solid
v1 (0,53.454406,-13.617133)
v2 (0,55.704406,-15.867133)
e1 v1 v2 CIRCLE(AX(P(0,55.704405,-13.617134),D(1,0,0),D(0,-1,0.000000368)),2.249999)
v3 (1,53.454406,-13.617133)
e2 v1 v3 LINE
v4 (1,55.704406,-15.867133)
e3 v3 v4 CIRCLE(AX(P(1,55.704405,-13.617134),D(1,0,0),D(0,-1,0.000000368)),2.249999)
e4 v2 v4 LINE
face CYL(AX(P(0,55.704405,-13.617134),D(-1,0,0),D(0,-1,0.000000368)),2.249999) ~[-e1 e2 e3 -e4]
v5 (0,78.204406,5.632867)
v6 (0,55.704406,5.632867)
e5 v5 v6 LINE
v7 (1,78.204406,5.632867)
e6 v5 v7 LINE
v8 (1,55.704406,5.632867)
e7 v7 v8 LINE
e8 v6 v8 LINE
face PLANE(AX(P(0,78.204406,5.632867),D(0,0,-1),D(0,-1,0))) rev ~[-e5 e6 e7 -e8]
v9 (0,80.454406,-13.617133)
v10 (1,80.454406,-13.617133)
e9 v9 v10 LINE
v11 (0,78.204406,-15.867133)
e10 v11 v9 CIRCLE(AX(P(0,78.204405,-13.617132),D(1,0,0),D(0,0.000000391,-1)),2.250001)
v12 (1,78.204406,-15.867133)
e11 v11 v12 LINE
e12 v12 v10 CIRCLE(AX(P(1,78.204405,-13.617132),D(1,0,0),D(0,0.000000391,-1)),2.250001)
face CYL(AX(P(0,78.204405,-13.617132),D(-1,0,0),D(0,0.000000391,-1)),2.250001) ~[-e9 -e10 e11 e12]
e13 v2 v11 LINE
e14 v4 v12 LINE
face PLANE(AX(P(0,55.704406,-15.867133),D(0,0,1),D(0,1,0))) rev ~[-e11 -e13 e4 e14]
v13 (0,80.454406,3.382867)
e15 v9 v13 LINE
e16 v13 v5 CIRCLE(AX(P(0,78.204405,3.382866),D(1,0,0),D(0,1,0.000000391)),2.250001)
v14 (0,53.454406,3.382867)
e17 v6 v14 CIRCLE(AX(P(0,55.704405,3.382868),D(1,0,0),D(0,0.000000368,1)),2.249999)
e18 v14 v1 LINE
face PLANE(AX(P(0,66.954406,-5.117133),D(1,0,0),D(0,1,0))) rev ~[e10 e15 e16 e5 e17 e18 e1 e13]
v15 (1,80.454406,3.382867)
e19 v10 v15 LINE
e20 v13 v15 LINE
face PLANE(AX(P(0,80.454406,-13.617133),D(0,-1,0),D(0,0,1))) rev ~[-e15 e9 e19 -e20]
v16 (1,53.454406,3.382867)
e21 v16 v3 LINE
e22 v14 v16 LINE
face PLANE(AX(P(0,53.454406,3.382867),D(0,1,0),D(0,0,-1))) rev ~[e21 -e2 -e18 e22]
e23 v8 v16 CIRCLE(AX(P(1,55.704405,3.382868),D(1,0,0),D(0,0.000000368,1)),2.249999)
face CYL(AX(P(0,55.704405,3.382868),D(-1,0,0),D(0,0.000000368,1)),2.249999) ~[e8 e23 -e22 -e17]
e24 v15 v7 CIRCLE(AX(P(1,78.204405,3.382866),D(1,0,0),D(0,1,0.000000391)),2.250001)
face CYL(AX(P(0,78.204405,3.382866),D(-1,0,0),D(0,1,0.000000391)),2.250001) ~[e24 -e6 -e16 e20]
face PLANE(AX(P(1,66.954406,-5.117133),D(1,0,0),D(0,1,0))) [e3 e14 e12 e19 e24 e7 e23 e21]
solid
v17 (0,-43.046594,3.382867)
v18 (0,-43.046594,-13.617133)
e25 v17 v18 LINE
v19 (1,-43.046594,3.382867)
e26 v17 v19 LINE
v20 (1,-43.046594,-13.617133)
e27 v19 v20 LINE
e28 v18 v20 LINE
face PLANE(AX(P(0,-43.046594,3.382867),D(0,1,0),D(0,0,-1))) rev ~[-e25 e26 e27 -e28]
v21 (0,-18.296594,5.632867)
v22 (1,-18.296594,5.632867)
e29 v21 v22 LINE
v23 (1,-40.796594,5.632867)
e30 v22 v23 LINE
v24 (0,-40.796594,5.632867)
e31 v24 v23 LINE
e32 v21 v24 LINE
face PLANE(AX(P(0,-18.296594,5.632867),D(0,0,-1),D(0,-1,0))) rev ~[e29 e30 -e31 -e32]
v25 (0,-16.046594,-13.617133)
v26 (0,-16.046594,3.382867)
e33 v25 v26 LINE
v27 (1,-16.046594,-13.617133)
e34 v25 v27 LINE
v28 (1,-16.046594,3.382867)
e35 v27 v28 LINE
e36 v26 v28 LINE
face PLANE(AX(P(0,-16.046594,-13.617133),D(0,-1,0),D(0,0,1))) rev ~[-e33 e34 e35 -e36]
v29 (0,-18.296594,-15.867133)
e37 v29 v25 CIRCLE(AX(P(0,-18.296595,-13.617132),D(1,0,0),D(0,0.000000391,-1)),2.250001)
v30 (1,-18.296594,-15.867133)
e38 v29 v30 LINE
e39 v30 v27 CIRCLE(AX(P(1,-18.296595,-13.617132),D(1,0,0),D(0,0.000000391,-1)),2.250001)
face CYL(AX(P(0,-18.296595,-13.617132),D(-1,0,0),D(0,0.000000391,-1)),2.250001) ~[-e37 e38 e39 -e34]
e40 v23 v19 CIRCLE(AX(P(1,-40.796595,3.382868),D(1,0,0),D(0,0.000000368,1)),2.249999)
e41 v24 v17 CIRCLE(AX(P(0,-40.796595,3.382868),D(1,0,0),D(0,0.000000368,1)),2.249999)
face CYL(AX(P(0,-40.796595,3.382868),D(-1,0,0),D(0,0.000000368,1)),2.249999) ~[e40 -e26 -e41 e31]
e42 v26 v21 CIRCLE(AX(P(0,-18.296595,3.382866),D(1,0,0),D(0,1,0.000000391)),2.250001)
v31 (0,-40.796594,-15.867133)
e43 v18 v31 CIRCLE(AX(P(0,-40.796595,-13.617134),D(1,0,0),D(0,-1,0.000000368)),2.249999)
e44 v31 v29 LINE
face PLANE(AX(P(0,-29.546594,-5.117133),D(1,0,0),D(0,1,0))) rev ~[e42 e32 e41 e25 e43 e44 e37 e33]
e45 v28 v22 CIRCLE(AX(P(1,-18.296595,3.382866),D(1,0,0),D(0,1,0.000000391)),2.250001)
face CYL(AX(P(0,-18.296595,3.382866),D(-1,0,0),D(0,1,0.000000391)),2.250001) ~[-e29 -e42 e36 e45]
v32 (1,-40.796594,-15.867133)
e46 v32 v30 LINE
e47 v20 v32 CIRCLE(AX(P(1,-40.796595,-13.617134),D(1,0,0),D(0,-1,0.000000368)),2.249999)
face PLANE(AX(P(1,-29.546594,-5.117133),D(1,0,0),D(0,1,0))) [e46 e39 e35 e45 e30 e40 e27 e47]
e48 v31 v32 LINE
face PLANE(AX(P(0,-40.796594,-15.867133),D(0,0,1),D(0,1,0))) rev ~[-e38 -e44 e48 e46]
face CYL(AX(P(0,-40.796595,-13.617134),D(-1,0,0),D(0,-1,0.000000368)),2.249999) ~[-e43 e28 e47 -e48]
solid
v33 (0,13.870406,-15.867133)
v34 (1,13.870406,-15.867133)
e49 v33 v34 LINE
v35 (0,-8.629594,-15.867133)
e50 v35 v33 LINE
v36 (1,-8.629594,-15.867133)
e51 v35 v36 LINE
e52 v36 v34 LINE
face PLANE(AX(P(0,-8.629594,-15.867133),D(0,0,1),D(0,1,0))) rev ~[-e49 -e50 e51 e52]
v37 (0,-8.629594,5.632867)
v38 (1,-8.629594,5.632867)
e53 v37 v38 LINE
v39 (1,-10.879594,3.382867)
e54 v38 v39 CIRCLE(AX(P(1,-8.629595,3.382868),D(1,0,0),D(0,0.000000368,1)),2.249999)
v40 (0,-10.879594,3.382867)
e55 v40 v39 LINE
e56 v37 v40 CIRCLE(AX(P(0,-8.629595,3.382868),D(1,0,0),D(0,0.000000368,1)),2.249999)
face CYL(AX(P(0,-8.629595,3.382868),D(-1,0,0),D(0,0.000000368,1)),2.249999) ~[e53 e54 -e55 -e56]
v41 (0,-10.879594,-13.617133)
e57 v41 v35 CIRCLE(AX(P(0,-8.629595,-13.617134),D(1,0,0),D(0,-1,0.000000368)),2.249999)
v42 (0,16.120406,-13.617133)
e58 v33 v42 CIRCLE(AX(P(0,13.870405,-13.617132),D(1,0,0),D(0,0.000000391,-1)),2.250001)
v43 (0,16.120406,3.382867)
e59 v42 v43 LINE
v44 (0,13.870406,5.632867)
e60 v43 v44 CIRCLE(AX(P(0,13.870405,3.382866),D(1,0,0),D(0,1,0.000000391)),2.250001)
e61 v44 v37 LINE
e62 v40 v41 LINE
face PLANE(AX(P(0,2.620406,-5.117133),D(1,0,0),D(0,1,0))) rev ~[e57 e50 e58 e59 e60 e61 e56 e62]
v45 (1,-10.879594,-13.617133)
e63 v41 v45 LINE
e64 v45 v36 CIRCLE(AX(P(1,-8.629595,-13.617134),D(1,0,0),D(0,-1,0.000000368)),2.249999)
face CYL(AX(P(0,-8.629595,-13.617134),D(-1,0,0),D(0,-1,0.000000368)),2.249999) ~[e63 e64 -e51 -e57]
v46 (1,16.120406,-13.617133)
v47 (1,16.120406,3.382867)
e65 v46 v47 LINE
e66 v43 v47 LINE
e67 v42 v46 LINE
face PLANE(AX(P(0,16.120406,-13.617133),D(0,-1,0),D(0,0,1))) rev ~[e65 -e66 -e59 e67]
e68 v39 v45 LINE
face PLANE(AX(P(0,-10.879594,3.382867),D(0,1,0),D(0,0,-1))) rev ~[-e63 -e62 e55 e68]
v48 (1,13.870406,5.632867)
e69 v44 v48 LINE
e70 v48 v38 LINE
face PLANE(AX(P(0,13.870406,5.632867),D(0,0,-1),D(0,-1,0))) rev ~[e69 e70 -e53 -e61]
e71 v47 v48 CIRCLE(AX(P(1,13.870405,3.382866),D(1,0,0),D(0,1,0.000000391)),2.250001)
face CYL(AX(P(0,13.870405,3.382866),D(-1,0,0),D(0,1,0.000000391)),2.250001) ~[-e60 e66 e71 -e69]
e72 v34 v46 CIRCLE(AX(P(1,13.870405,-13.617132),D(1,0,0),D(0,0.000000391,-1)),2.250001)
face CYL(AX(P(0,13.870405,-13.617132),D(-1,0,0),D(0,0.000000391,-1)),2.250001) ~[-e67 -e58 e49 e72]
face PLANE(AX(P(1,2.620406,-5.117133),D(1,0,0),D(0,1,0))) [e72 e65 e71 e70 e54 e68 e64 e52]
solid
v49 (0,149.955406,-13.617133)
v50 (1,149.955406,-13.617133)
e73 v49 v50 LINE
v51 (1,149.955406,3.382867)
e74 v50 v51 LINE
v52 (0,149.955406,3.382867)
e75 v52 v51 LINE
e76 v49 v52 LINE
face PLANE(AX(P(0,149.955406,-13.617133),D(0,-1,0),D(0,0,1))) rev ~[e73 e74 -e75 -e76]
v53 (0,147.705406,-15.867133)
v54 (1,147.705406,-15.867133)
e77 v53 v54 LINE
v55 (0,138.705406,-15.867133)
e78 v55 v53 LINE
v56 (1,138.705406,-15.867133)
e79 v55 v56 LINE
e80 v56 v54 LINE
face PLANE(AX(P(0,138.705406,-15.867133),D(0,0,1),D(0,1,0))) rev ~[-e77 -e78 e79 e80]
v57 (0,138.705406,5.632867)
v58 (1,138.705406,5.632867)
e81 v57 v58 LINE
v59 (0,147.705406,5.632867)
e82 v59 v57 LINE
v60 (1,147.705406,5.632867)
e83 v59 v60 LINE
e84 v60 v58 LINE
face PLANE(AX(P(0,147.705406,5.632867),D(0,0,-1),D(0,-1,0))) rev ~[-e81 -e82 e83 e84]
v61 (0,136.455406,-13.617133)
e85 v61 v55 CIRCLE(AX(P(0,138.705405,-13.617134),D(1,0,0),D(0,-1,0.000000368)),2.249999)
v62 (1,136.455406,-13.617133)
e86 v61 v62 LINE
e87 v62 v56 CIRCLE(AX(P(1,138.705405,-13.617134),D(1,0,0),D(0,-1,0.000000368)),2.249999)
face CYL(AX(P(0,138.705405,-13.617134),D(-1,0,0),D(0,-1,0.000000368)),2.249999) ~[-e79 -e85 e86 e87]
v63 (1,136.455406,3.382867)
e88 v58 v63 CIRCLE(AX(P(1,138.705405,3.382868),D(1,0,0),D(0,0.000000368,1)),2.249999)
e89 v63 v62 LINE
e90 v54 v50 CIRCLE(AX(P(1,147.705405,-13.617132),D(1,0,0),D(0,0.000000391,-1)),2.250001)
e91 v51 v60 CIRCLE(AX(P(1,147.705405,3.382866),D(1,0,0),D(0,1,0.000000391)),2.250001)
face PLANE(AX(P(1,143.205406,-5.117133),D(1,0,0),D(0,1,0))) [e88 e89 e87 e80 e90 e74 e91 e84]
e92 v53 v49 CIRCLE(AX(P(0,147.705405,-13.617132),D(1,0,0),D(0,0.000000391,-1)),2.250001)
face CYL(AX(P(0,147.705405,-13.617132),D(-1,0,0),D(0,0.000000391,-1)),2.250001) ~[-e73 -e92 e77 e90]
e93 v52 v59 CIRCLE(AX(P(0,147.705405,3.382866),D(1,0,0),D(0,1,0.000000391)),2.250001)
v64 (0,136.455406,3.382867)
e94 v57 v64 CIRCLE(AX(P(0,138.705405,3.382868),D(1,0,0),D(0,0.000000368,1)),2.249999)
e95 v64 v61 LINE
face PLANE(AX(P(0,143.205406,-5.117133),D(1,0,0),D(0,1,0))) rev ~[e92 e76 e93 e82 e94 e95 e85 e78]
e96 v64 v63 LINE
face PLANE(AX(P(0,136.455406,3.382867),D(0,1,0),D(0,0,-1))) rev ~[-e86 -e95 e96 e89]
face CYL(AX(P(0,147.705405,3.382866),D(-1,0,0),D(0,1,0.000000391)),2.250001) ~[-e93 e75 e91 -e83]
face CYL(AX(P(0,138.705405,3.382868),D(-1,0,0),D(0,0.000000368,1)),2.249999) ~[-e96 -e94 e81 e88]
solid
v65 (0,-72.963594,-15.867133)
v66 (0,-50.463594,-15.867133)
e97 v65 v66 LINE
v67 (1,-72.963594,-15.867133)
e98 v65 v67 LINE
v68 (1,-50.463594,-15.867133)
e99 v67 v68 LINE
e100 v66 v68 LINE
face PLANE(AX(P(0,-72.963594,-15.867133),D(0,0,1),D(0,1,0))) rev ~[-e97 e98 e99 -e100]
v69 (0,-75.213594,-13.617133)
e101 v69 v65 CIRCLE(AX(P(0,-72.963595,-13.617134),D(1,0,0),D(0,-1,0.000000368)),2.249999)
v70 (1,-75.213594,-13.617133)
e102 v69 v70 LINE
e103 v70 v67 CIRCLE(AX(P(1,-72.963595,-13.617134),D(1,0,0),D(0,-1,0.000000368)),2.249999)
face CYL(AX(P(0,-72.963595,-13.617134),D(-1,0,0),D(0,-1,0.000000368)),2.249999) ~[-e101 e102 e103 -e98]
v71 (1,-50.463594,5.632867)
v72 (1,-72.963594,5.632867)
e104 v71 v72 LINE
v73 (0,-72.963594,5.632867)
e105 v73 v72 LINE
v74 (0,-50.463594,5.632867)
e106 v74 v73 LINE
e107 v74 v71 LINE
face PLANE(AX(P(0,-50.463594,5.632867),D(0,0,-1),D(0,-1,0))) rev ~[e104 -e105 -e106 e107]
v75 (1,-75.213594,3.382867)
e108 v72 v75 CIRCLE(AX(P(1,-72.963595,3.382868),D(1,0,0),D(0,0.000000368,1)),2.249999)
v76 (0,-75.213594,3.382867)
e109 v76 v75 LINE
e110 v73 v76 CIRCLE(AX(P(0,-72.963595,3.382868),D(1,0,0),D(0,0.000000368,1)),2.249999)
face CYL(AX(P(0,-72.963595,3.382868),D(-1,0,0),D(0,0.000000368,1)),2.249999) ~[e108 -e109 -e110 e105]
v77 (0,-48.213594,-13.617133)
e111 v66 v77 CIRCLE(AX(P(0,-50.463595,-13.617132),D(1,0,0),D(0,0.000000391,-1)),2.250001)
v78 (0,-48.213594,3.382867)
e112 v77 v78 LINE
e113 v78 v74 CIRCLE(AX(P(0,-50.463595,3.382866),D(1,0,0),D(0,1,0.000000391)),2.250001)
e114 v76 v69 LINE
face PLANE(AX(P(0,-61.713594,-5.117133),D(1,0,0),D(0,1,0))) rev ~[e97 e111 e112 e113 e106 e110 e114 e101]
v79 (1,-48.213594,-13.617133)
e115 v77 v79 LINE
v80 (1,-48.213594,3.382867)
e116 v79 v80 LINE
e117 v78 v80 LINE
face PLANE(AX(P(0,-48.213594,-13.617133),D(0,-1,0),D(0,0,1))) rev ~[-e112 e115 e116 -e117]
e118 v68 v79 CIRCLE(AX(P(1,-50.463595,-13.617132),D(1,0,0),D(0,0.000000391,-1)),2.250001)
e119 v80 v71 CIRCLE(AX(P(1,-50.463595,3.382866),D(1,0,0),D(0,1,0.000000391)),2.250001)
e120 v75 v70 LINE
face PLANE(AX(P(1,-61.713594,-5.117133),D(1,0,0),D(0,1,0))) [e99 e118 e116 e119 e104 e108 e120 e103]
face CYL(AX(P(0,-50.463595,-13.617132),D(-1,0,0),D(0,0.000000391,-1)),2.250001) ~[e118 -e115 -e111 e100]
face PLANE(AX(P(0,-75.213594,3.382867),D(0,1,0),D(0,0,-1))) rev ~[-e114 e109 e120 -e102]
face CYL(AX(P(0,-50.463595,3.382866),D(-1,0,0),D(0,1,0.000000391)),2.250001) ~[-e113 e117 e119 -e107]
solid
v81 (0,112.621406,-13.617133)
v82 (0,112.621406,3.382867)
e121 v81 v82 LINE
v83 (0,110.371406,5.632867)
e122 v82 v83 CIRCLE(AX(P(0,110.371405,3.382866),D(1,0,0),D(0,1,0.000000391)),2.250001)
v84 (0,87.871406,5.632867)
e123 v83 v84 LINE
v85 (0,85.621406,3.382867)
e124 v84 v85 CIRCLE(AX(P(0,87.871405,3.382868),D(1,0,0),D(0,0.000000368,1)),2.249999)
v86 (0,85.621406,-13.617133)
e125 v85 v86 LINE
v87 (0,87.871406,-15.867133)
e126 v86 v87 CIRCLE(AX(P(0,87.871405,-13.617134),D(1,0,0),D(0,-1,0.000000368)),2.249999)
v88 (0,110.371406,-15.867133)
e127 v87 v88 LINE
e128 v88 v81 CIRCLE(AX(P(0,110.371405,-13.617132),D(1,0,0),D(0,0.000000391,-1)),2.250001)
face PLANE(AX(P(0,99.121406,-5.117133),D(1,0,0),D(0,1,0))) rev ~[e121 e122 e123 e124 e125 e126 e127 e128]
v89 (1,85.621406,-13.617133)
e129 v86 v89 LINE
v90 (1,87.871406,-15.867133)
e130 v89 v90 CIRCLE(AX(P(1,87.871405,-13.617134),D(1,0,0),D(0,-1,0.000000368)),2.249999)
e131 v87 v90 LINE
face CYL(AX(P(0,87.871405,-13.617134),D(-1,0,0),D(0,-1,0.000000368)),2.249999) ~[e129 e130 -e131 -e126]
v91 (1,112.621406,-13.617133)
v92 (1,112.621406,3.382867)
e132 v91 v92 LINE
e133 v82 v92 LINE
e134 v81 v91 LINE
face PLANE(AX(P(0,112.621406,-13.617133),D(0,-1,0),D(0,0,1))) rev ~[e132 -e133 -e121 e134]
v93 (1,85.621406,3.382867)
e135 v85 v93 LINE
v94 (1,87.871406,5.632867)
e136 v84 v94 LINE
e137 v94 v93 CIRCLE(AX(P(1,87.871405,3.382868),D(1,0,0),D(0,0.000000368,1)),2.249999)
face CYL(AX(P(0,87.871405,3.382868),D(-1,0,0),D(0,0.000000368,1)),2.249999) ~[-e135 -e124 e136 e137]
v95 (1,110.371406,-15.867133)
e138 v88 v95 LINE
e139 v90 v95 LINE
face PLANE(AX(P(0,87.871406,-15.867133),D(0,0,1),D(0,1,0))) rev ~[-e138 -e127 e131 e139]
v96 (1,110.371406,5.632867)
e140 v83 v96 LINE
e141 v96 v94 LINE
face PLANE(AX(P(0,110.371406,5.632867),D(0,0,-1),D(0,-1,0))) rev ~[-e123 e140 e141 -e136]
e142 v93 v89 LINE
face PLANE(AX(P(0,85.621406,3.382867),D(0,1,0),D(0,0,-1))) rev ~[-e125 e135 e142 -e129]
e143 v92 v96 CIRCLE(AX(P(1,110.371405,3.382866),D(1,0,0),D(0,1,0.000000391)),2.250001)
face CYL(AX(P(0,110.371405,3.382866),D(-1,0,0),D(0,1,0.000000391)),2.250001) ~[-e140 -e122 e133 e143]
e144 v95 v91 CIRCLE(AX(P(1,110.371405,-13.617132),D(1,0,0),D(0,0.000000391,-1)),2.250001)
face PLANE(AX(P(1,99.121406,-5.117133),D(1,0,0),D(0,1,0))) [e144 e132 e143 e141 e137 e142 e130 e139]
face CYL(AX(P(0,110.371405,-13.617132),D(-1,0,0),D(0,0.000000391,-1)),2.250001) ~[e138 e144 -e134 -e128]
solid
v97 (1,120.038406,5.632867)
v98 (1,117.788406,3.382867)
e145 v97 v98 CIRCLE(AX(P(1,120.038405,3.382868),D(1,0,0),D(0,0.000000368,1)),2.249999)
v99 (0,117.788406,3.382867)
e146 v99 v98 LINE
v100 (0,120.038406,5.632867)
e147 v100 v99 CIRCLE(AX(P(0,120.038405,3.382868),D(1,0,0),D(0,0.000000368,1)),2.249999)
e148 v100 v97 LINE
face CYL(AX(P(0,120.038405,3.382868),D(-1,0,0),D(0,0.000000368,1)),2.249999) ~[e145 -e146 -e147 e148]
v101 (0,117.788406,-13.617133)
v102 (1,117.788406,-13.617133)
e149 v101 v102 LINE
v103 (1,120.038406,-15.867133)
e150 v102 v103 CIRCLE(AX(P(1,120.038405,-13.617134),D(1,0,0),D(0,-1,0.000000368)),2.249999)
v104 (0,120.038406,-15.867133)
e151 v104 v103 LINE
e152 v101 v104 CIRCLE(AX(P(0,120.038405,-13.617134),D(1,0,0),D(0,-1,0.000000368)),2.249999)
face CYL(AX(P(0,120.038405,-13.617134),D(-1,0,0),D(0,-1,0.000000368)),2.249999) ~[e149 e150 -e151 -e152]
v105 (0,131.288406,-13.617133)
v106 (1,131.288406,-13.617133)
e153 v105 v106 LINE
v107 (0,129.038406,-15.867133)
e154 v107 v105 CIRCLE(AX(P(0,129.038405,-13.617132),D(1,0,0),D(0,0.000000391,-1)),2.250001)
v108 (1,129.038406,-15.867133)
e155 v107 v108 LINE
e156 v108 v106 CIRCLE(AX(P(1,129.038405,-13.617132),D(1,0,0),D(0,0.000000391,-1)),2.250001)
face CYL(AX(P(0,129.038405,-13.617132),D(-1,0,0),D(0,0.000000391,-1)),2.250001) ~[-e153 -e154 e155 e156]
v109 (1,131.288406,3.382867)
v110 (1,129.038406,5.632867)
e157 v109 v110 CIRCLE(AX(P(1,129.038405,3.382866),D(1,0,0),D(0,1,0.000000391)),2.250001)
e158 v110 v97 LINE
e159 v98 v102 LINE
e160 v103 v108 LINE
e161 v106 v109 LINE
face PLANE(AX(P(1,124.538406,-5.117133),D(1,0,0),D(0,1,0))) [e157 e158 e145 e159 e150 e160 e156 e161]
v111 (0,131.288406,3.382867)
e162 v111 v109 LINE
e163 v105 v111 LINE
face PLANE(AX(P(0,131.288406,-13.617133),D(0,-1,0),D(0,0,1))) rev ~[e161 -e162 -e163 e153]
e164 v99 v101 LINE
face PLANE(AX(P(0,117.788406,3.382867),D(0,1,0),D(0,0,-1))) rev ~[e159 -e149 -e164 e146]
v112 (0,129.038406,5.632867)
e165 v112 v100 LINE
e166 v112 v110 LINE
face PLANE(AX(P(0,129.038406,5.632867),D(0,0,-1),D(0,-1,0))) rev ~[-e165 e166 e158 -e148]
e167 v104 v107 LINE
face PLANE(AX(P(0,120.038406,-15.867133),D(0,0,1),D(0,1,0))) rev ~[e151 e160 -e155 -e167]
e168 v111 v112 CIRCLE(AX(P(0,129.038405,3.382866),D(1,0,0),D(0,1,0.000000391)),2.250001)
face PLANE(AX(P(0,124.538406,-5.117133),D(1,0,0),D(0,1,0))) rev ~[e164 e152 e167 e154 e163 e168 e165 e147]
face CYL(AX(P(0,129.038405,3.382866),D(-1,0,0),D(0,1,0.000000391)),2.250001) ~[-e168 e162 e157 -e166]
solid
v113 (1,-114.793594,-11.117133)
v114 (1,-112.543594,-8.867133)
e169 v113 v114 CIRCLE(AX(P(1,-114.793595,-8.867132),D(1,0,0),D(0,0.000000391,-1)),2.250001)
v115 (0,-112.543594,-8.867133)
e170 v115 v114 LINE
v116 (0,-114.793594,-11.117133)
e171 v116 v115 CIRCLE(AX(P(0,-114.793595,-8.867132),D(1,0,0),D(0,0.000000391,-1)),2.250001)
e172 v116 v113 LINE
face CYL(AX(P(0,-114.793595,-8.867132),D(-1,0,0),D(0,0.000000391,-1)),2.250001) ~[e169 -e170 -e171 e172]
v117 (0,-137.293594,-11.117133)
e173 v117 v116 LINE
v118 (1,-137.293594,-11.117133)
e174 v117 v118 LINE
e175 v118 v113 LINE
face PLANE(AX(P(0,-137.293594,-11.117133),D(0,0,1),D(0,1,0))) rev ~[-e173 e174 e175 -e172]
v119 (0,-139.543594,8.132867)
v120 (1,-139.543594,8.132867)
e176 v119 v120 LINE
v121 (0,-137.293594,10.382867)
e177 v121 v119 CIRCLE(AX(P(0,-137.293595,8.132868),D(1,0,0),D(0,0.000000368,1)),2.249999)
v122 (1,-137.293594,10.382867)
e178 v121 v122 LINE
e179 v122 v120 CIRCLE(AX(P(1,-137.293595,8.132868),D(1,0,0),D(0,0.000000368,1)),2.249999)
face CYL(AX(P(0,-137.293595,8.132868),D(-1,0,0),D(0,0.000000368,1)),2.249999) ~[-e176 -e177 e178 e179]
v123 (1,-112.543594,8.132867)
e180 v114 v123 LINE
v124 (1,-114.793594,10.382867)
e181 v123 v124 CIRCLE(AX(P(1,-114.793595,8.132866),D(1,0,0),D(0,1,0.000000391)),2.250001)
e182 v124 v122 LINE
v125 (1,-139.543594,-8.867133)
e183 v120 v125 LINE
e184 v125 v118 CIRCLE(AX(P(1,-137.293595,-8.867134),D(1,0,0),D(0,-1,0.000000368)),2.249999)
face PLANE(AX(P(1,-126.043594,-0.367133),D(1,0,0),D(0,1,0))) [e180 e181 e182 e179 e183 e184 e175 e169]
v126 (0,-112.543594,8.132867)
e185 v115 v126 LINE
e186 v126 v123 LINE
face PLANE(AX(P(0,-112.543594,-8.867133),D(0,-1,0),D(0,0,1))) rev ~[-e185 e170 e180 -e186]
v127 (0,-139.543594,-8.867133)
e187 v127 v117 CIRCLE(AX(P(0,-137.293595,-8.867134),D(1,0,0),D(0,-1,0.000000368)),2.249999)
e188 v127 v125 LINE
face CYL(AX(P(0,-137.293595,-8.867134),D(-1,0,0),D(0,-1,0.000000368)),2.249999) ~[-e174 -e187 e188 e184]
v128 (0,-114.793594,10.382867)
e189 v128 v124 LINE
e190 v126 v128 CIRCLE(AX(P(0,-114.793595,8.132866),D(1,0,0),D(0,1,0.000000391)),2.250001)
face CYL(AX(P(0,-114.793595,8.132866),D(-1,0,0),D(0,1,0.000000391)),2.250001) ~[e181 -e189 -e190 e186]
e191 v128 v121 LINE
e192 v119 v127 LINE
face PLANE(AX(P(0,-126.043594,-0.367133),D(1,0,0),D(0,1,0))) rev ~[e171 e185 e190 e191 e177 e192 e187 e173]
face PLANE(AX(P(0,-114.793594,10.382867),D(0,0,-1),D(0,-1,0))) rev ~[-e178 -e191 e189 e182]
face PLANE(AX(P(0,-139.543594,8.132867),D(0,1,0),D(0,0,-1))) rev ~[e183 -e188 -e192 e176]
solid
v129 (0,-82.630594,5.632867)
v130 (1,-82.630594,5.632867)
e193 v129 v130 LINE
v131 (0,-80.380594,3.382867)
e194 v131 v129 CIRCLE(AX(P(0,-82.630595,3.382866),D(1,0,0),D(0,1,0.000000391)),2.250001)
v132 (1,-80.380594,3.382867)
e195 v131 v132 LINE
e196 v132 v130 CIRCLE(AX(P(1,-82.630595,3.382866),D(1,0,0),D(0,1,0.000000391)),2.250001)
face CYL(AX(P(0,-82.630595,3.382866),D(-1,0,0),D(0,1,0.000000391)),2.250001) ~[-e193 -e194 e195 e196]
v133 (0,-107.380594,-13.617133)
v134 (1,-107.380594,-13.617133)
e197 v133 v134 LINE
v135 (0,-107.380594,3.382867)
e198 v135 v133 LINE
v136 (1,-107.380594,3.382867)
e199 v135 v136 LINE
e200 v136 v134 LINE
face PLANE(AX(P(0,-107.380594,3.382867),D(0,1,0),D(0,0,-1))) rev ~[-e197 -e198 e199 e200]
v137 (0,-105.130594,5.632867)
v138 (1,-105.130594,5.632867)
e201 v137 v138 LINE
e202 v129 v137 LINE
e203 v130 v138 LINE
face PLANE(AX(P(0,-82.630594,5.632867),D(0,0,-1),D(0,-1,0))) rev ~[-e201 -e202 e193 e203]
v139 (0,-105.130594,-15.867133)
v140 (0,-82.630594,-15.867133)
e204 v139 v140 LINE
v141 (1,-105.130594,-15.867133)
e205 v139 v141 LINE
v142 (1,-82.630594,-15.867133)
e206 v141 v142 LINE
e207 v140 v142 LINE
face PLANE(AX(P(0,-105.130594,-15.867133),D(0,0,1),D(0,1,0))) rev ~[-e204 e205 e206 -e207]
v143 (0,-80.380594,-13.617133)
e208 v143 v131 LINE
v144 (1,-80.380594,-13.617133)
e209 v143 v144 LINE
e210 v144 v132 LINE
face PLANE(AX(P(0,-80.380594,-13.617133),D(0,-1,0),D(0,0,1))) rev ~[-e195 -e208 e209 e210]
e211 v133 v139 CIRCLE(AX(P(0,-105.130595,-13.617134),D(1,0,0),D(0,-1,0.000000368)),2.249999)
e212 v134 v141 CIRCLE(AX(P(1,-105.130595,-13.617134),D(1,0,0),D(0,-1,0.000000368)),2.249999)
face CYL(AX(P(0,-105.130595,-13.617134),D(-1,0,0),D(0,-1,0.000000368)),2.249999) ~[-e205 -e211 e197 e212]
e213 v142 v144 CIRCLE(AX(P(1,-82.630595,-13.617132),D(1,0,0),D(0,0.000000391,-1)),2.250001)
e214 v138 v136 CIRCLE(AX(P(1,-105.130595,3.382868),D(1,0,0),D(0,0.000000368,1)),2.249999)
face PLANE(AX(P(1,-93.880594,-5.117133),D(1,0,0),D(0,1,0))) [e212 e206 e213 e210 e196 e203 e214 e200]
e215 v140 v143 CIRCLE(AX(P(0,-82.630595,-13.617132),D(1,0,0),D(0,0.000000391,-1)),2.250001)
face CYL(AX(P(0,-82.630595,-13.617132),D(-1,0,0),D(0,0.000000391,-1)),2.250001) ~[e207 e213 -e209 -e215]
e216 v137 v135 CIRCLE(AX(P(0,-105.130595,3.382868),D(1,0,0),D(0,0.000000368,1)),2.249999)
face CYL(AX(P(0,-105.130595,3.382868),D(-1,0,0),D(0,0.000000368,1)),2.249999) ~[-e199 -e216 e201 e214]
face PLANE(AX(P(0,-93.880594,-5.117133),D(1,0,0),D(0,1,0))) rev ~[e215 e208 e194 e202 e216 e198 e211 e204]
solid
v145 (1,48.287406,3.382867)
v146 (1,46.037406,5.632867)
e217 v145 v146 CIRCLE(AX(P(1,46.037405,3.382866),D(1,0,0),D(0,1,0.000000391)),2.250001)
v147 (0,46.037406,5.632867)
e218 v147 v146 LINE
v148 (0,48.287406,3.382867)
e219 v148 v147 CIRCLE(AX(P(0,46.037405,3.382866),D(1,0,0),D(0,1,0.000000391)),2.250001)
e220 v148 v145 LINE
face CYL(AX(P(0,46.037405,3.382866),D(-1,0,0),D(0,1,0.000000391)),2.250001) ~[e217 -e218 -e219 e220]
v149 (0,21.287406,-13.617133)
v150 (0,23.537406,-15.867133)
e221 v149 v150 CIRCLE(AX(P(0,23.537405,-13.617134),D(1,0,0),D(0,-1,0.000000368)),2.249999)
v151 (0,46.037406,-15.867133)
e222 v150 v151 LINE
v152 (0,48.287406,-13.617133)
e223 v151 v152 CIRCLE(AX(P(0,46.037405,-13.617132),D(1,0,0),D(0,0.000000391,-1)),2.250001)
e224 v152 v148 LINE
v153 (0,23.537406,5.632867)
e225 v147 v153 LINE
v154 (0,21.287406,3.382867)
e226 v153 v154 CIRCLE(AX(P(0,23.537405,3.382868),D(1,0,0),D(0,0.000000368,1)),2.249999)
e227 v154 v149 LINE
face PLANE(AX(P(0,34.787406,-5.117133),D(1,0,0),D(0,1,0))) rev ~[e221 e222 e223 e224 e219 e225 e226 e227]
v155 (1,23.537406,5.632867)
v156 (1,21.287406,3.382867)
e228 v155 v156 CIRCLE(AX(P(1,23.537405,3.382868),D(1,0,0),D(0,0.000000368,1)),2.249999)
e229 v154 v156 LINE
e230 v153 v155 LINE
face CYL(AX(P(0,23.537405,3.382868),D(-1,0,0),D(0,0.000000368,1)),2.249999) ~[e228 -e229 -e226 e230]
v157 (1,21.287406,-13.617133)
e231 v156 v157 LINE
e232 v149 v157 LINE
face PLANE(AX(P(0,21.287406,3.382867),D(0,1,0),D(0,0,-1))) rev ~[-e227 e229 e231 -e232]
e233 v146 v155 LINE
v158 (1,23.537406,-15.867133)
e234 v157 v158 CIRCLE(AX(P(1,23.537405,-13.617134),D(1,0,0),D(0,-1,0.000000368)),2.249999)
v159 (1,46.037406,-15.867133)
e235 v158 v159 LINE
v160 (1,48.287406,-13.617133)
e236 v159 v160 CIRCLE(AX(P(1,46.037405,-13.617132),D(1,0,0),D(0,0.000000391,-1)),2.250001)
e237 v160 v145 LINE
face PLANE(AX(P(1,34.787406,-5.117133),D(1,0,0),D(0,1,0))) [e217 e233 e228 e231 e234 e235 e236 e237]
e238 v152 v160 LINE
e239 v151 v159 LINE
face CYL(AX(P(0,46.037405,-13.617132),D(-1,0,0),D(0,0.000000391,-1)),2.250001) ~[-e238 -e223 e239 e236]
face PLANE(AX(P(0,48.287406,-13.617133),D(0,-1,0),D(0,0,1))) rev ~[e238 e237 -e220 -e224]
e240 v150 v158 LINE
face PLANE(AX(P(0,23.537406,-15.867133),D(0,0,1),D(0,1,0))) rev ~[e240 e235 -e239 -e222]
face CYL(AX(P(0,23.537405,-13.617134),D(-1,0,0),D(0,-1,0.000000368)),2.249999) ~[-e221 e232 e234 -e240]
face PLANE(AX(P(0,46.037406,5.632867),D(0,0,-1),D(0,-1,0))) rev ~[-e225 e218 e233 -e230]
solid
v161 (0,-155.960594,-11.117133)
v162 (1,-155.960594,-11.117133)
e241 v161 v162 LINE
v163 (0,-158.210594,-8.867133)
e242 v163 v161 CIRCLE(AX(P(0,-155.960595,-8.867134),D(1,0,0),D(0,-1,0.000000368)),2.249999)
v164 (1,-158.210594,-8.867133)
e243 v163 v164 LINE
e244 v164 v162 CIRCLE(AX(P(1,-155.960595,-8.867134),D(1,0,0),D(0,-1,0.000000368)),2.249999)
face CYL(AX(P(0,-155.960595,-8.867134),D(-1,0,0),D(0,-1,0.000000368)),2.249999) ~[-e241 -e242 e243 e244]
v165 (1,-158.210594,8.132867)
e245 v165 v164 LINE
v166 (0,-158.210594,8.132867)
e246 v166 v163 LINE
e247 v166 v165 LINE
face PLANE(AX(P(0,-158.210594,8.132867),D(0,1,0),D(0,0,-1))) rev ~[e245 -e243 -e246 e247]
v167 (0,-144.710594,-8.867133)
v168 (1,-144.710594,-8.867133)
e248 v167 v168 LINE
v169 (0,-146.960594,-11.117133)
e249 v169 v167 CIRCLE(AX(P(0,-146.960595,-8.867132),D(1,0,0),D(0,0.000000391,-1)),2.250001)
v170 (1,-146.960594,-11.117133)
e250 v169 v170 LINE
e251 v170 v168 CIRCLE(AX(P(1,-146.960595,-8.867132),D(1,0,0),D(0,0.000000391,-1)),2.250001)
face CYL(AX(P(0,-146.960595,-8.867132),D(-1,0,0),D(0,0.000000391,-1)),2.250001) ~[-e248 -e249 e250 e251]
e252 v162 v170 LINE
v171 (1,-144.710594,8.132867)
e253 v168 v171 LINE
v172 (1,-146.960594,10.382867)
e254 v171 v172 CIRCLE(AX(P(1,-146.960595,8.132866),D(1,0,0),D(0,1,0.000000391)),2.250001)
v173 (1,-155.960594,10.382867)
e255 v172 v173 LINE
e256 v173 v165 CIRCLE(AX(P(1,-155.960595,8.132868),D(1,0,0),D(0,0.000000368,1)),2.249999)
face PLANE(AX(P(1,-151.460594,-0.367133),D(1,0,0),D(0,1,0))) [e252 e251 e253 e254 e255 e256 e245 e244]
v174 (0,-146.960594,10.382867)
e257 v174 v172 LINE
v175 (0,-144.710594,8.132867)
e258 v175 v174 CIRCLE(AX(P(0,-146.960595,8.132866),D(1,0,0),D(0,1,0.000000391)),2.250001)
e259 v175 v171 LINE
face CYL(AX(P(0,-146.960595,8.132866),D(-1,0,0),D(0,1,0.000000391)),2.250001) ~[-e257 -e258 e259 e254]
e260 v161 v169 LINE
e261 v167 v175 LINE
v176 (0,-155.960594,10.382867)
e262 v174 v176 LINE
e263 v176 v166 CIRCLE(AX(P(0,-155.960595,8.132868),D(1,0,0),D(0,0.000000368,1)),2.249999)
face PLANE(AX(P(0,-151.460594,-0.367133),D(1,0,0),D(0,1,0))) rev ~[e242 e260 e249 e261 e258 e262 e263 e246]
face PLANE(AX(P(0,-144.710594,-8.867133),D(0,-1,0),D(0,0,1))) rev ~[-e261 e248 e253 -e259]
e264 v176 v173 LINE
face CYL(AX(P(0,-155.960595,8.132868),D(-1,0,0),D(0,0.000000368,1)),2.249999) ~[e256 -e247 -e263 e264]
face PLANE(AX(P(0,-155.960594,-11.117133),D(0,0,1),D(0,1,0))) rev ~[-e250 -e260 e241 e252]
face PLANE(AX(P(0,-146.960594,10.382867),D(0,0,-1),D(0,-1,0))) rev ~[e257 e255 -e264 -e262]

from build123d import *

# Parameters (mm, degrees)
F1_DEPTH = 1


with BuildPart() as f1:
    # F0 (on Right) → F1 (new body)
    with BuildSketch(Plane.YZ):
        with BuildLine():
            Line((80.454406, -13.617133), (80.454406, 3.382867))
            ThreePointArc((80.454406, 3.382867), (79.795396, 4.973857), (78.204406, 5.632867))
            Line((78.204406, 5.632867), (55.704406, 5.632867))
            ThreePointArc((55.704406, 5.632867), (54.113415, 4.973857), (53.454406, 3.382867))
            Line((53.454406, 3.382867), (53.454406, -13.617133))
            ThreePointArc((53.454406, -13.617133), (54.113415, -15.208123), (55.704406, -15.867133))
            Line((55.704406, -15.867133), (78.204406, -15.867133))
            ThreePointArc((78.204406, -15.867133), (79.795396, -15.208123), (80.454406, -13.617133))
        make_face()
        with BuildLine():
            Line((-16.046594, -13.617133), (-16.046594, 3.382867))
            ThreePointArc((-16.046594, 3.382867), (-16.705604, 4.973857), (-18.296594, 5.632867))
            Line((-18.296594, 5.632867), (-40.796594, 5.632867))
            ThreePointArc((-40.796594, 5.632867), (-42.387585, 4.973857), (-43.046594, 3.382867))
            Line((-43.046594, 3.382867), (-43.046594, -13.617133))
            ThreePointArc((-43.046594, -13.617133), (-42.387585, -15.208123), (-40.796594, -15.867133))
            Line((-40.796594, -15.867133), (-18.296594, -15.867133))
            ThreePointArc((-18.296594, -15.867133), (-16.705604, -15.208123), (-16.046594, -13.617133))
        make_face()
        with BuildLine():
            Line((-146.960594, 10.382867), (-155.960594, 10.382867))
            ThreePointArc((-155.960594, 10.382867), (-157.551585, 9.723857), (-158.210594, 8.132867))
            Line((-158.210594, 8.132867), (-158.210594, -8.867133))
            ThreePointArc((-158.210594, -8.867133), (-157.551585, -10.458123), (-155.960594, -11.117133))
            Line((-155.960594, -11.117133), (-146.960594, -11.117133))
            ThreePointArc((-146.960594, -11.117133), (-145.369604, -10.458123), (-144.710594, -8.867133))
            Line((-144.710594, -8.867133), (-144.710594, 8.132867))
            ThreePointArc((-144.710594, 8.132867), (-145.369604, 9.723857), (-146.960594, 10.382867))
        make_face()
        with BuildLine():
            Line((-107.380594, 3.382867), (-107.380594, -13.617133))
            ThreePointArc((-107.380594, -13.617133), (-106.721585, -15.208123), (-105.130594, -15.867133))
            Line((-105.130594, -15.867133), (-82.630594, -15.867133))
            ThreePointArc((-82.630594, -15.867133), (-81.039604, -15.208123), (-80.380594, -13.617133))
            Line((-80.380594, -13.617133), (-80.380594, 3.382867))
            ThreePointArc((-80.380594, 3.382867), (-81.039604, 4.973857), (-82.630594, 5.632867))
            Line((-82.630594, 5.632867), (-105.130594, 5.632867))
            ThreePointArc((-105.130594, 5.632867), (-106.721585, 4.973857), (-107.380594, 3.382867))
        make_face()
        with BuildLine():
            Line((48.287406, -13.617133), (48.287406, 3.382867))
            ThreePointArc((48.287406, 3.382867), (47.628396, 4.973857), (46.037406, 5.632867))
            Line((46.037406, 5.632867), (23.537406, 5.632867))
            ThreePointArc((23.537406, 5.632867), (21.946415, 4.973857), (21.287406, 3.382867))
            Line((21.287406, 3.382867), (21.287406, -13.617133))
            ThreePointArc((21.287406, -13.617133), (21.946415, -15.208123), (23.537406, -15.867133))
            Line((23.537406, -15.867133), (46.037406, -15.867133))
            ThreePointArc((46.037406, -15.867133), (47.628396, -15.208123), (48.287406, -13.617133))
        make_face()
        with BuildLine():
            Line((-50.463594, 5.632867), (-72.963594, 5.632867))
            ThreePointArc((-72.963594, 5.632867), (-74.554585, 4.973857), (-75.213594, 3.382867))
            Line((-75.213594, 3.382867), (-75.213594, -13.617133))
            ThreePointArc((-75.213594, -13.617133), (-74.554585, -15.208123), (-72.963594, -15.867133))
            Line((-72.963594, -15.867133), (-50.463594, -15.867133))
            ThreePointArc((-50.463594, -15.867133), (-48.872604, -15.208123), (-48.213594, -13.617133))
            Line((-48.213594, -13.617133), (-48.213594, 3.382867))
            ThreePointArc((-48.213594, 3.382867), (-48.872604, 4.973857), (-50.463594, 5.632867))
        make_face()
        with BuildLine():
            Line((13.870406, 5.632867), (-8.629594, 5.632867))
            ThreePointArc((-8.629594, 5.632867), (-10.220585, 4.973857), (-10.879594, 3.382867))
            Line((-10.879594, 3.382867), (-10.879594, -13.617133))
            ThreePointArc((-10.879594, -13.617133), (-10.220585, -15.208123), (-8.629594, -15.867133))
            Line((-8.629594, -15.867133), (13.870406, -15.867133))
            ThreePointArc((13.870406, -15.867133), (15.461396, -15.208123), (16.120406, -13.617133))
            Line((16.120406, -13.617133), (16.120406, 3.382867))
            ThreePointArc((16.120406, 3.382867), (15.461396, 4.973857), (13.870406, 5.632867))
        make_face()
        with BuildLine():
            Line((-112.543594, -8.867133), (-112.543594, 8.132867))
            ThreePointArc((-112.543594, 8.132867), (-113.202604, 9.723857), (-114.793594, 10.382867))
            Line((-114.793594, 10.382867), (-137.293594, 10.382867))
            ThreePointArc((-137.293594, 10.382867), (-138.884585, 9.723857), (-139.543594, 8.132867))
            Line((-139.543594, 8.132867), (-139.543594, -8.867133))
            ThreePointArc((-139.543594, -8.867133), (-138.884585, -10.458123), (-137.293594, -11.117133))
            Line((-137.293594, -11.117133), (-114.793594, -11.117133))
            ThreePointArc((-114.793594, -11.117133), (-113.202604, -10.458123), (-112.543594, -8.867133))
        make_face()
        with BuildLine():
            Line((147.705406, 5.632867), (138.705406, 5.632867))
            ThreePointArc((138.705406, 5.632867), (137.114415, 4.973857), (136.455406, 3.382867))
            Line((136.455406, 3.382867), (136.455406, -13.617133))
            ThreePointArc((136.455406, -13.617133), (137.114415, -15.208123), (138.705406, -15.867133))
            Line((138.705406, -15.867133), (147.705406, -15.867133))
            ThreePointArc((147.705406, -15.867133), (149.296396, -15.208123), (149.955406, -13.617133))
            Line((149.955406, -13.617133), (149.955406, 3.382867))
            ThreePointArc((149.955406, 3.382867), (149.296396, 4.973857), (147.705406, 5.632867))
        make_face()
        with BuildLine():
            Line((112.621406, -13.617133), (112.621406, 3.382867))
            ThreePointArc((112.621406, 3.382867), (111.962396, 4.973857), (110.371406, 5.632867))
            Line((110.371406, 5.632867), (87.871406, 5.632867))
            ThreePointArc((87.871406, 5.632867), (86.280415, 4.973857), (85.621406, 3.382867))
            Line((85.621406, 3.382867), (85.621406, -13.617133))
            ThreePointArc((85.621406, -13.617133), (86.280415, -15.208123), (87.871406, -15.867133))
            Line((87.871406, -15.867133), (110.371406, -15.867133))
            ThreePointArc((110.371406, -15.867133), (111.962396, -15.208123), (112.621406, -13.617133))
        make_face()
        with BuildLine():
            Line((131.288406, -13.617133), (131.288406, 3.382867))
            ThreePointArc((131.288406, 3.382867), (130.629396, 4.973857), (129.038406, 5.632867))
            Line((129.038406, 5.632867), (120.038406, 5.632867))
            ThreePointArc((120.038406, 5.632867), (118.447415, 4.973857), (117.788406, 3.382867))
            Line((117.788406, 3.382867), (117.788406, -13.617133))
            ThreePointArc((117.788406, -13.617133), (118.447415, -15.208123), (120.038406, -15.867133))
            Line((120.038406, -15.867133), (129.038406, -15.867133))
            ThreePointArc((129.038406, -15.867133), (130.629396, -15.208123), (131.288406, -13.617133))
        make_face()
    extrude(amount=F1_DEPTH)


solid = f1.part
